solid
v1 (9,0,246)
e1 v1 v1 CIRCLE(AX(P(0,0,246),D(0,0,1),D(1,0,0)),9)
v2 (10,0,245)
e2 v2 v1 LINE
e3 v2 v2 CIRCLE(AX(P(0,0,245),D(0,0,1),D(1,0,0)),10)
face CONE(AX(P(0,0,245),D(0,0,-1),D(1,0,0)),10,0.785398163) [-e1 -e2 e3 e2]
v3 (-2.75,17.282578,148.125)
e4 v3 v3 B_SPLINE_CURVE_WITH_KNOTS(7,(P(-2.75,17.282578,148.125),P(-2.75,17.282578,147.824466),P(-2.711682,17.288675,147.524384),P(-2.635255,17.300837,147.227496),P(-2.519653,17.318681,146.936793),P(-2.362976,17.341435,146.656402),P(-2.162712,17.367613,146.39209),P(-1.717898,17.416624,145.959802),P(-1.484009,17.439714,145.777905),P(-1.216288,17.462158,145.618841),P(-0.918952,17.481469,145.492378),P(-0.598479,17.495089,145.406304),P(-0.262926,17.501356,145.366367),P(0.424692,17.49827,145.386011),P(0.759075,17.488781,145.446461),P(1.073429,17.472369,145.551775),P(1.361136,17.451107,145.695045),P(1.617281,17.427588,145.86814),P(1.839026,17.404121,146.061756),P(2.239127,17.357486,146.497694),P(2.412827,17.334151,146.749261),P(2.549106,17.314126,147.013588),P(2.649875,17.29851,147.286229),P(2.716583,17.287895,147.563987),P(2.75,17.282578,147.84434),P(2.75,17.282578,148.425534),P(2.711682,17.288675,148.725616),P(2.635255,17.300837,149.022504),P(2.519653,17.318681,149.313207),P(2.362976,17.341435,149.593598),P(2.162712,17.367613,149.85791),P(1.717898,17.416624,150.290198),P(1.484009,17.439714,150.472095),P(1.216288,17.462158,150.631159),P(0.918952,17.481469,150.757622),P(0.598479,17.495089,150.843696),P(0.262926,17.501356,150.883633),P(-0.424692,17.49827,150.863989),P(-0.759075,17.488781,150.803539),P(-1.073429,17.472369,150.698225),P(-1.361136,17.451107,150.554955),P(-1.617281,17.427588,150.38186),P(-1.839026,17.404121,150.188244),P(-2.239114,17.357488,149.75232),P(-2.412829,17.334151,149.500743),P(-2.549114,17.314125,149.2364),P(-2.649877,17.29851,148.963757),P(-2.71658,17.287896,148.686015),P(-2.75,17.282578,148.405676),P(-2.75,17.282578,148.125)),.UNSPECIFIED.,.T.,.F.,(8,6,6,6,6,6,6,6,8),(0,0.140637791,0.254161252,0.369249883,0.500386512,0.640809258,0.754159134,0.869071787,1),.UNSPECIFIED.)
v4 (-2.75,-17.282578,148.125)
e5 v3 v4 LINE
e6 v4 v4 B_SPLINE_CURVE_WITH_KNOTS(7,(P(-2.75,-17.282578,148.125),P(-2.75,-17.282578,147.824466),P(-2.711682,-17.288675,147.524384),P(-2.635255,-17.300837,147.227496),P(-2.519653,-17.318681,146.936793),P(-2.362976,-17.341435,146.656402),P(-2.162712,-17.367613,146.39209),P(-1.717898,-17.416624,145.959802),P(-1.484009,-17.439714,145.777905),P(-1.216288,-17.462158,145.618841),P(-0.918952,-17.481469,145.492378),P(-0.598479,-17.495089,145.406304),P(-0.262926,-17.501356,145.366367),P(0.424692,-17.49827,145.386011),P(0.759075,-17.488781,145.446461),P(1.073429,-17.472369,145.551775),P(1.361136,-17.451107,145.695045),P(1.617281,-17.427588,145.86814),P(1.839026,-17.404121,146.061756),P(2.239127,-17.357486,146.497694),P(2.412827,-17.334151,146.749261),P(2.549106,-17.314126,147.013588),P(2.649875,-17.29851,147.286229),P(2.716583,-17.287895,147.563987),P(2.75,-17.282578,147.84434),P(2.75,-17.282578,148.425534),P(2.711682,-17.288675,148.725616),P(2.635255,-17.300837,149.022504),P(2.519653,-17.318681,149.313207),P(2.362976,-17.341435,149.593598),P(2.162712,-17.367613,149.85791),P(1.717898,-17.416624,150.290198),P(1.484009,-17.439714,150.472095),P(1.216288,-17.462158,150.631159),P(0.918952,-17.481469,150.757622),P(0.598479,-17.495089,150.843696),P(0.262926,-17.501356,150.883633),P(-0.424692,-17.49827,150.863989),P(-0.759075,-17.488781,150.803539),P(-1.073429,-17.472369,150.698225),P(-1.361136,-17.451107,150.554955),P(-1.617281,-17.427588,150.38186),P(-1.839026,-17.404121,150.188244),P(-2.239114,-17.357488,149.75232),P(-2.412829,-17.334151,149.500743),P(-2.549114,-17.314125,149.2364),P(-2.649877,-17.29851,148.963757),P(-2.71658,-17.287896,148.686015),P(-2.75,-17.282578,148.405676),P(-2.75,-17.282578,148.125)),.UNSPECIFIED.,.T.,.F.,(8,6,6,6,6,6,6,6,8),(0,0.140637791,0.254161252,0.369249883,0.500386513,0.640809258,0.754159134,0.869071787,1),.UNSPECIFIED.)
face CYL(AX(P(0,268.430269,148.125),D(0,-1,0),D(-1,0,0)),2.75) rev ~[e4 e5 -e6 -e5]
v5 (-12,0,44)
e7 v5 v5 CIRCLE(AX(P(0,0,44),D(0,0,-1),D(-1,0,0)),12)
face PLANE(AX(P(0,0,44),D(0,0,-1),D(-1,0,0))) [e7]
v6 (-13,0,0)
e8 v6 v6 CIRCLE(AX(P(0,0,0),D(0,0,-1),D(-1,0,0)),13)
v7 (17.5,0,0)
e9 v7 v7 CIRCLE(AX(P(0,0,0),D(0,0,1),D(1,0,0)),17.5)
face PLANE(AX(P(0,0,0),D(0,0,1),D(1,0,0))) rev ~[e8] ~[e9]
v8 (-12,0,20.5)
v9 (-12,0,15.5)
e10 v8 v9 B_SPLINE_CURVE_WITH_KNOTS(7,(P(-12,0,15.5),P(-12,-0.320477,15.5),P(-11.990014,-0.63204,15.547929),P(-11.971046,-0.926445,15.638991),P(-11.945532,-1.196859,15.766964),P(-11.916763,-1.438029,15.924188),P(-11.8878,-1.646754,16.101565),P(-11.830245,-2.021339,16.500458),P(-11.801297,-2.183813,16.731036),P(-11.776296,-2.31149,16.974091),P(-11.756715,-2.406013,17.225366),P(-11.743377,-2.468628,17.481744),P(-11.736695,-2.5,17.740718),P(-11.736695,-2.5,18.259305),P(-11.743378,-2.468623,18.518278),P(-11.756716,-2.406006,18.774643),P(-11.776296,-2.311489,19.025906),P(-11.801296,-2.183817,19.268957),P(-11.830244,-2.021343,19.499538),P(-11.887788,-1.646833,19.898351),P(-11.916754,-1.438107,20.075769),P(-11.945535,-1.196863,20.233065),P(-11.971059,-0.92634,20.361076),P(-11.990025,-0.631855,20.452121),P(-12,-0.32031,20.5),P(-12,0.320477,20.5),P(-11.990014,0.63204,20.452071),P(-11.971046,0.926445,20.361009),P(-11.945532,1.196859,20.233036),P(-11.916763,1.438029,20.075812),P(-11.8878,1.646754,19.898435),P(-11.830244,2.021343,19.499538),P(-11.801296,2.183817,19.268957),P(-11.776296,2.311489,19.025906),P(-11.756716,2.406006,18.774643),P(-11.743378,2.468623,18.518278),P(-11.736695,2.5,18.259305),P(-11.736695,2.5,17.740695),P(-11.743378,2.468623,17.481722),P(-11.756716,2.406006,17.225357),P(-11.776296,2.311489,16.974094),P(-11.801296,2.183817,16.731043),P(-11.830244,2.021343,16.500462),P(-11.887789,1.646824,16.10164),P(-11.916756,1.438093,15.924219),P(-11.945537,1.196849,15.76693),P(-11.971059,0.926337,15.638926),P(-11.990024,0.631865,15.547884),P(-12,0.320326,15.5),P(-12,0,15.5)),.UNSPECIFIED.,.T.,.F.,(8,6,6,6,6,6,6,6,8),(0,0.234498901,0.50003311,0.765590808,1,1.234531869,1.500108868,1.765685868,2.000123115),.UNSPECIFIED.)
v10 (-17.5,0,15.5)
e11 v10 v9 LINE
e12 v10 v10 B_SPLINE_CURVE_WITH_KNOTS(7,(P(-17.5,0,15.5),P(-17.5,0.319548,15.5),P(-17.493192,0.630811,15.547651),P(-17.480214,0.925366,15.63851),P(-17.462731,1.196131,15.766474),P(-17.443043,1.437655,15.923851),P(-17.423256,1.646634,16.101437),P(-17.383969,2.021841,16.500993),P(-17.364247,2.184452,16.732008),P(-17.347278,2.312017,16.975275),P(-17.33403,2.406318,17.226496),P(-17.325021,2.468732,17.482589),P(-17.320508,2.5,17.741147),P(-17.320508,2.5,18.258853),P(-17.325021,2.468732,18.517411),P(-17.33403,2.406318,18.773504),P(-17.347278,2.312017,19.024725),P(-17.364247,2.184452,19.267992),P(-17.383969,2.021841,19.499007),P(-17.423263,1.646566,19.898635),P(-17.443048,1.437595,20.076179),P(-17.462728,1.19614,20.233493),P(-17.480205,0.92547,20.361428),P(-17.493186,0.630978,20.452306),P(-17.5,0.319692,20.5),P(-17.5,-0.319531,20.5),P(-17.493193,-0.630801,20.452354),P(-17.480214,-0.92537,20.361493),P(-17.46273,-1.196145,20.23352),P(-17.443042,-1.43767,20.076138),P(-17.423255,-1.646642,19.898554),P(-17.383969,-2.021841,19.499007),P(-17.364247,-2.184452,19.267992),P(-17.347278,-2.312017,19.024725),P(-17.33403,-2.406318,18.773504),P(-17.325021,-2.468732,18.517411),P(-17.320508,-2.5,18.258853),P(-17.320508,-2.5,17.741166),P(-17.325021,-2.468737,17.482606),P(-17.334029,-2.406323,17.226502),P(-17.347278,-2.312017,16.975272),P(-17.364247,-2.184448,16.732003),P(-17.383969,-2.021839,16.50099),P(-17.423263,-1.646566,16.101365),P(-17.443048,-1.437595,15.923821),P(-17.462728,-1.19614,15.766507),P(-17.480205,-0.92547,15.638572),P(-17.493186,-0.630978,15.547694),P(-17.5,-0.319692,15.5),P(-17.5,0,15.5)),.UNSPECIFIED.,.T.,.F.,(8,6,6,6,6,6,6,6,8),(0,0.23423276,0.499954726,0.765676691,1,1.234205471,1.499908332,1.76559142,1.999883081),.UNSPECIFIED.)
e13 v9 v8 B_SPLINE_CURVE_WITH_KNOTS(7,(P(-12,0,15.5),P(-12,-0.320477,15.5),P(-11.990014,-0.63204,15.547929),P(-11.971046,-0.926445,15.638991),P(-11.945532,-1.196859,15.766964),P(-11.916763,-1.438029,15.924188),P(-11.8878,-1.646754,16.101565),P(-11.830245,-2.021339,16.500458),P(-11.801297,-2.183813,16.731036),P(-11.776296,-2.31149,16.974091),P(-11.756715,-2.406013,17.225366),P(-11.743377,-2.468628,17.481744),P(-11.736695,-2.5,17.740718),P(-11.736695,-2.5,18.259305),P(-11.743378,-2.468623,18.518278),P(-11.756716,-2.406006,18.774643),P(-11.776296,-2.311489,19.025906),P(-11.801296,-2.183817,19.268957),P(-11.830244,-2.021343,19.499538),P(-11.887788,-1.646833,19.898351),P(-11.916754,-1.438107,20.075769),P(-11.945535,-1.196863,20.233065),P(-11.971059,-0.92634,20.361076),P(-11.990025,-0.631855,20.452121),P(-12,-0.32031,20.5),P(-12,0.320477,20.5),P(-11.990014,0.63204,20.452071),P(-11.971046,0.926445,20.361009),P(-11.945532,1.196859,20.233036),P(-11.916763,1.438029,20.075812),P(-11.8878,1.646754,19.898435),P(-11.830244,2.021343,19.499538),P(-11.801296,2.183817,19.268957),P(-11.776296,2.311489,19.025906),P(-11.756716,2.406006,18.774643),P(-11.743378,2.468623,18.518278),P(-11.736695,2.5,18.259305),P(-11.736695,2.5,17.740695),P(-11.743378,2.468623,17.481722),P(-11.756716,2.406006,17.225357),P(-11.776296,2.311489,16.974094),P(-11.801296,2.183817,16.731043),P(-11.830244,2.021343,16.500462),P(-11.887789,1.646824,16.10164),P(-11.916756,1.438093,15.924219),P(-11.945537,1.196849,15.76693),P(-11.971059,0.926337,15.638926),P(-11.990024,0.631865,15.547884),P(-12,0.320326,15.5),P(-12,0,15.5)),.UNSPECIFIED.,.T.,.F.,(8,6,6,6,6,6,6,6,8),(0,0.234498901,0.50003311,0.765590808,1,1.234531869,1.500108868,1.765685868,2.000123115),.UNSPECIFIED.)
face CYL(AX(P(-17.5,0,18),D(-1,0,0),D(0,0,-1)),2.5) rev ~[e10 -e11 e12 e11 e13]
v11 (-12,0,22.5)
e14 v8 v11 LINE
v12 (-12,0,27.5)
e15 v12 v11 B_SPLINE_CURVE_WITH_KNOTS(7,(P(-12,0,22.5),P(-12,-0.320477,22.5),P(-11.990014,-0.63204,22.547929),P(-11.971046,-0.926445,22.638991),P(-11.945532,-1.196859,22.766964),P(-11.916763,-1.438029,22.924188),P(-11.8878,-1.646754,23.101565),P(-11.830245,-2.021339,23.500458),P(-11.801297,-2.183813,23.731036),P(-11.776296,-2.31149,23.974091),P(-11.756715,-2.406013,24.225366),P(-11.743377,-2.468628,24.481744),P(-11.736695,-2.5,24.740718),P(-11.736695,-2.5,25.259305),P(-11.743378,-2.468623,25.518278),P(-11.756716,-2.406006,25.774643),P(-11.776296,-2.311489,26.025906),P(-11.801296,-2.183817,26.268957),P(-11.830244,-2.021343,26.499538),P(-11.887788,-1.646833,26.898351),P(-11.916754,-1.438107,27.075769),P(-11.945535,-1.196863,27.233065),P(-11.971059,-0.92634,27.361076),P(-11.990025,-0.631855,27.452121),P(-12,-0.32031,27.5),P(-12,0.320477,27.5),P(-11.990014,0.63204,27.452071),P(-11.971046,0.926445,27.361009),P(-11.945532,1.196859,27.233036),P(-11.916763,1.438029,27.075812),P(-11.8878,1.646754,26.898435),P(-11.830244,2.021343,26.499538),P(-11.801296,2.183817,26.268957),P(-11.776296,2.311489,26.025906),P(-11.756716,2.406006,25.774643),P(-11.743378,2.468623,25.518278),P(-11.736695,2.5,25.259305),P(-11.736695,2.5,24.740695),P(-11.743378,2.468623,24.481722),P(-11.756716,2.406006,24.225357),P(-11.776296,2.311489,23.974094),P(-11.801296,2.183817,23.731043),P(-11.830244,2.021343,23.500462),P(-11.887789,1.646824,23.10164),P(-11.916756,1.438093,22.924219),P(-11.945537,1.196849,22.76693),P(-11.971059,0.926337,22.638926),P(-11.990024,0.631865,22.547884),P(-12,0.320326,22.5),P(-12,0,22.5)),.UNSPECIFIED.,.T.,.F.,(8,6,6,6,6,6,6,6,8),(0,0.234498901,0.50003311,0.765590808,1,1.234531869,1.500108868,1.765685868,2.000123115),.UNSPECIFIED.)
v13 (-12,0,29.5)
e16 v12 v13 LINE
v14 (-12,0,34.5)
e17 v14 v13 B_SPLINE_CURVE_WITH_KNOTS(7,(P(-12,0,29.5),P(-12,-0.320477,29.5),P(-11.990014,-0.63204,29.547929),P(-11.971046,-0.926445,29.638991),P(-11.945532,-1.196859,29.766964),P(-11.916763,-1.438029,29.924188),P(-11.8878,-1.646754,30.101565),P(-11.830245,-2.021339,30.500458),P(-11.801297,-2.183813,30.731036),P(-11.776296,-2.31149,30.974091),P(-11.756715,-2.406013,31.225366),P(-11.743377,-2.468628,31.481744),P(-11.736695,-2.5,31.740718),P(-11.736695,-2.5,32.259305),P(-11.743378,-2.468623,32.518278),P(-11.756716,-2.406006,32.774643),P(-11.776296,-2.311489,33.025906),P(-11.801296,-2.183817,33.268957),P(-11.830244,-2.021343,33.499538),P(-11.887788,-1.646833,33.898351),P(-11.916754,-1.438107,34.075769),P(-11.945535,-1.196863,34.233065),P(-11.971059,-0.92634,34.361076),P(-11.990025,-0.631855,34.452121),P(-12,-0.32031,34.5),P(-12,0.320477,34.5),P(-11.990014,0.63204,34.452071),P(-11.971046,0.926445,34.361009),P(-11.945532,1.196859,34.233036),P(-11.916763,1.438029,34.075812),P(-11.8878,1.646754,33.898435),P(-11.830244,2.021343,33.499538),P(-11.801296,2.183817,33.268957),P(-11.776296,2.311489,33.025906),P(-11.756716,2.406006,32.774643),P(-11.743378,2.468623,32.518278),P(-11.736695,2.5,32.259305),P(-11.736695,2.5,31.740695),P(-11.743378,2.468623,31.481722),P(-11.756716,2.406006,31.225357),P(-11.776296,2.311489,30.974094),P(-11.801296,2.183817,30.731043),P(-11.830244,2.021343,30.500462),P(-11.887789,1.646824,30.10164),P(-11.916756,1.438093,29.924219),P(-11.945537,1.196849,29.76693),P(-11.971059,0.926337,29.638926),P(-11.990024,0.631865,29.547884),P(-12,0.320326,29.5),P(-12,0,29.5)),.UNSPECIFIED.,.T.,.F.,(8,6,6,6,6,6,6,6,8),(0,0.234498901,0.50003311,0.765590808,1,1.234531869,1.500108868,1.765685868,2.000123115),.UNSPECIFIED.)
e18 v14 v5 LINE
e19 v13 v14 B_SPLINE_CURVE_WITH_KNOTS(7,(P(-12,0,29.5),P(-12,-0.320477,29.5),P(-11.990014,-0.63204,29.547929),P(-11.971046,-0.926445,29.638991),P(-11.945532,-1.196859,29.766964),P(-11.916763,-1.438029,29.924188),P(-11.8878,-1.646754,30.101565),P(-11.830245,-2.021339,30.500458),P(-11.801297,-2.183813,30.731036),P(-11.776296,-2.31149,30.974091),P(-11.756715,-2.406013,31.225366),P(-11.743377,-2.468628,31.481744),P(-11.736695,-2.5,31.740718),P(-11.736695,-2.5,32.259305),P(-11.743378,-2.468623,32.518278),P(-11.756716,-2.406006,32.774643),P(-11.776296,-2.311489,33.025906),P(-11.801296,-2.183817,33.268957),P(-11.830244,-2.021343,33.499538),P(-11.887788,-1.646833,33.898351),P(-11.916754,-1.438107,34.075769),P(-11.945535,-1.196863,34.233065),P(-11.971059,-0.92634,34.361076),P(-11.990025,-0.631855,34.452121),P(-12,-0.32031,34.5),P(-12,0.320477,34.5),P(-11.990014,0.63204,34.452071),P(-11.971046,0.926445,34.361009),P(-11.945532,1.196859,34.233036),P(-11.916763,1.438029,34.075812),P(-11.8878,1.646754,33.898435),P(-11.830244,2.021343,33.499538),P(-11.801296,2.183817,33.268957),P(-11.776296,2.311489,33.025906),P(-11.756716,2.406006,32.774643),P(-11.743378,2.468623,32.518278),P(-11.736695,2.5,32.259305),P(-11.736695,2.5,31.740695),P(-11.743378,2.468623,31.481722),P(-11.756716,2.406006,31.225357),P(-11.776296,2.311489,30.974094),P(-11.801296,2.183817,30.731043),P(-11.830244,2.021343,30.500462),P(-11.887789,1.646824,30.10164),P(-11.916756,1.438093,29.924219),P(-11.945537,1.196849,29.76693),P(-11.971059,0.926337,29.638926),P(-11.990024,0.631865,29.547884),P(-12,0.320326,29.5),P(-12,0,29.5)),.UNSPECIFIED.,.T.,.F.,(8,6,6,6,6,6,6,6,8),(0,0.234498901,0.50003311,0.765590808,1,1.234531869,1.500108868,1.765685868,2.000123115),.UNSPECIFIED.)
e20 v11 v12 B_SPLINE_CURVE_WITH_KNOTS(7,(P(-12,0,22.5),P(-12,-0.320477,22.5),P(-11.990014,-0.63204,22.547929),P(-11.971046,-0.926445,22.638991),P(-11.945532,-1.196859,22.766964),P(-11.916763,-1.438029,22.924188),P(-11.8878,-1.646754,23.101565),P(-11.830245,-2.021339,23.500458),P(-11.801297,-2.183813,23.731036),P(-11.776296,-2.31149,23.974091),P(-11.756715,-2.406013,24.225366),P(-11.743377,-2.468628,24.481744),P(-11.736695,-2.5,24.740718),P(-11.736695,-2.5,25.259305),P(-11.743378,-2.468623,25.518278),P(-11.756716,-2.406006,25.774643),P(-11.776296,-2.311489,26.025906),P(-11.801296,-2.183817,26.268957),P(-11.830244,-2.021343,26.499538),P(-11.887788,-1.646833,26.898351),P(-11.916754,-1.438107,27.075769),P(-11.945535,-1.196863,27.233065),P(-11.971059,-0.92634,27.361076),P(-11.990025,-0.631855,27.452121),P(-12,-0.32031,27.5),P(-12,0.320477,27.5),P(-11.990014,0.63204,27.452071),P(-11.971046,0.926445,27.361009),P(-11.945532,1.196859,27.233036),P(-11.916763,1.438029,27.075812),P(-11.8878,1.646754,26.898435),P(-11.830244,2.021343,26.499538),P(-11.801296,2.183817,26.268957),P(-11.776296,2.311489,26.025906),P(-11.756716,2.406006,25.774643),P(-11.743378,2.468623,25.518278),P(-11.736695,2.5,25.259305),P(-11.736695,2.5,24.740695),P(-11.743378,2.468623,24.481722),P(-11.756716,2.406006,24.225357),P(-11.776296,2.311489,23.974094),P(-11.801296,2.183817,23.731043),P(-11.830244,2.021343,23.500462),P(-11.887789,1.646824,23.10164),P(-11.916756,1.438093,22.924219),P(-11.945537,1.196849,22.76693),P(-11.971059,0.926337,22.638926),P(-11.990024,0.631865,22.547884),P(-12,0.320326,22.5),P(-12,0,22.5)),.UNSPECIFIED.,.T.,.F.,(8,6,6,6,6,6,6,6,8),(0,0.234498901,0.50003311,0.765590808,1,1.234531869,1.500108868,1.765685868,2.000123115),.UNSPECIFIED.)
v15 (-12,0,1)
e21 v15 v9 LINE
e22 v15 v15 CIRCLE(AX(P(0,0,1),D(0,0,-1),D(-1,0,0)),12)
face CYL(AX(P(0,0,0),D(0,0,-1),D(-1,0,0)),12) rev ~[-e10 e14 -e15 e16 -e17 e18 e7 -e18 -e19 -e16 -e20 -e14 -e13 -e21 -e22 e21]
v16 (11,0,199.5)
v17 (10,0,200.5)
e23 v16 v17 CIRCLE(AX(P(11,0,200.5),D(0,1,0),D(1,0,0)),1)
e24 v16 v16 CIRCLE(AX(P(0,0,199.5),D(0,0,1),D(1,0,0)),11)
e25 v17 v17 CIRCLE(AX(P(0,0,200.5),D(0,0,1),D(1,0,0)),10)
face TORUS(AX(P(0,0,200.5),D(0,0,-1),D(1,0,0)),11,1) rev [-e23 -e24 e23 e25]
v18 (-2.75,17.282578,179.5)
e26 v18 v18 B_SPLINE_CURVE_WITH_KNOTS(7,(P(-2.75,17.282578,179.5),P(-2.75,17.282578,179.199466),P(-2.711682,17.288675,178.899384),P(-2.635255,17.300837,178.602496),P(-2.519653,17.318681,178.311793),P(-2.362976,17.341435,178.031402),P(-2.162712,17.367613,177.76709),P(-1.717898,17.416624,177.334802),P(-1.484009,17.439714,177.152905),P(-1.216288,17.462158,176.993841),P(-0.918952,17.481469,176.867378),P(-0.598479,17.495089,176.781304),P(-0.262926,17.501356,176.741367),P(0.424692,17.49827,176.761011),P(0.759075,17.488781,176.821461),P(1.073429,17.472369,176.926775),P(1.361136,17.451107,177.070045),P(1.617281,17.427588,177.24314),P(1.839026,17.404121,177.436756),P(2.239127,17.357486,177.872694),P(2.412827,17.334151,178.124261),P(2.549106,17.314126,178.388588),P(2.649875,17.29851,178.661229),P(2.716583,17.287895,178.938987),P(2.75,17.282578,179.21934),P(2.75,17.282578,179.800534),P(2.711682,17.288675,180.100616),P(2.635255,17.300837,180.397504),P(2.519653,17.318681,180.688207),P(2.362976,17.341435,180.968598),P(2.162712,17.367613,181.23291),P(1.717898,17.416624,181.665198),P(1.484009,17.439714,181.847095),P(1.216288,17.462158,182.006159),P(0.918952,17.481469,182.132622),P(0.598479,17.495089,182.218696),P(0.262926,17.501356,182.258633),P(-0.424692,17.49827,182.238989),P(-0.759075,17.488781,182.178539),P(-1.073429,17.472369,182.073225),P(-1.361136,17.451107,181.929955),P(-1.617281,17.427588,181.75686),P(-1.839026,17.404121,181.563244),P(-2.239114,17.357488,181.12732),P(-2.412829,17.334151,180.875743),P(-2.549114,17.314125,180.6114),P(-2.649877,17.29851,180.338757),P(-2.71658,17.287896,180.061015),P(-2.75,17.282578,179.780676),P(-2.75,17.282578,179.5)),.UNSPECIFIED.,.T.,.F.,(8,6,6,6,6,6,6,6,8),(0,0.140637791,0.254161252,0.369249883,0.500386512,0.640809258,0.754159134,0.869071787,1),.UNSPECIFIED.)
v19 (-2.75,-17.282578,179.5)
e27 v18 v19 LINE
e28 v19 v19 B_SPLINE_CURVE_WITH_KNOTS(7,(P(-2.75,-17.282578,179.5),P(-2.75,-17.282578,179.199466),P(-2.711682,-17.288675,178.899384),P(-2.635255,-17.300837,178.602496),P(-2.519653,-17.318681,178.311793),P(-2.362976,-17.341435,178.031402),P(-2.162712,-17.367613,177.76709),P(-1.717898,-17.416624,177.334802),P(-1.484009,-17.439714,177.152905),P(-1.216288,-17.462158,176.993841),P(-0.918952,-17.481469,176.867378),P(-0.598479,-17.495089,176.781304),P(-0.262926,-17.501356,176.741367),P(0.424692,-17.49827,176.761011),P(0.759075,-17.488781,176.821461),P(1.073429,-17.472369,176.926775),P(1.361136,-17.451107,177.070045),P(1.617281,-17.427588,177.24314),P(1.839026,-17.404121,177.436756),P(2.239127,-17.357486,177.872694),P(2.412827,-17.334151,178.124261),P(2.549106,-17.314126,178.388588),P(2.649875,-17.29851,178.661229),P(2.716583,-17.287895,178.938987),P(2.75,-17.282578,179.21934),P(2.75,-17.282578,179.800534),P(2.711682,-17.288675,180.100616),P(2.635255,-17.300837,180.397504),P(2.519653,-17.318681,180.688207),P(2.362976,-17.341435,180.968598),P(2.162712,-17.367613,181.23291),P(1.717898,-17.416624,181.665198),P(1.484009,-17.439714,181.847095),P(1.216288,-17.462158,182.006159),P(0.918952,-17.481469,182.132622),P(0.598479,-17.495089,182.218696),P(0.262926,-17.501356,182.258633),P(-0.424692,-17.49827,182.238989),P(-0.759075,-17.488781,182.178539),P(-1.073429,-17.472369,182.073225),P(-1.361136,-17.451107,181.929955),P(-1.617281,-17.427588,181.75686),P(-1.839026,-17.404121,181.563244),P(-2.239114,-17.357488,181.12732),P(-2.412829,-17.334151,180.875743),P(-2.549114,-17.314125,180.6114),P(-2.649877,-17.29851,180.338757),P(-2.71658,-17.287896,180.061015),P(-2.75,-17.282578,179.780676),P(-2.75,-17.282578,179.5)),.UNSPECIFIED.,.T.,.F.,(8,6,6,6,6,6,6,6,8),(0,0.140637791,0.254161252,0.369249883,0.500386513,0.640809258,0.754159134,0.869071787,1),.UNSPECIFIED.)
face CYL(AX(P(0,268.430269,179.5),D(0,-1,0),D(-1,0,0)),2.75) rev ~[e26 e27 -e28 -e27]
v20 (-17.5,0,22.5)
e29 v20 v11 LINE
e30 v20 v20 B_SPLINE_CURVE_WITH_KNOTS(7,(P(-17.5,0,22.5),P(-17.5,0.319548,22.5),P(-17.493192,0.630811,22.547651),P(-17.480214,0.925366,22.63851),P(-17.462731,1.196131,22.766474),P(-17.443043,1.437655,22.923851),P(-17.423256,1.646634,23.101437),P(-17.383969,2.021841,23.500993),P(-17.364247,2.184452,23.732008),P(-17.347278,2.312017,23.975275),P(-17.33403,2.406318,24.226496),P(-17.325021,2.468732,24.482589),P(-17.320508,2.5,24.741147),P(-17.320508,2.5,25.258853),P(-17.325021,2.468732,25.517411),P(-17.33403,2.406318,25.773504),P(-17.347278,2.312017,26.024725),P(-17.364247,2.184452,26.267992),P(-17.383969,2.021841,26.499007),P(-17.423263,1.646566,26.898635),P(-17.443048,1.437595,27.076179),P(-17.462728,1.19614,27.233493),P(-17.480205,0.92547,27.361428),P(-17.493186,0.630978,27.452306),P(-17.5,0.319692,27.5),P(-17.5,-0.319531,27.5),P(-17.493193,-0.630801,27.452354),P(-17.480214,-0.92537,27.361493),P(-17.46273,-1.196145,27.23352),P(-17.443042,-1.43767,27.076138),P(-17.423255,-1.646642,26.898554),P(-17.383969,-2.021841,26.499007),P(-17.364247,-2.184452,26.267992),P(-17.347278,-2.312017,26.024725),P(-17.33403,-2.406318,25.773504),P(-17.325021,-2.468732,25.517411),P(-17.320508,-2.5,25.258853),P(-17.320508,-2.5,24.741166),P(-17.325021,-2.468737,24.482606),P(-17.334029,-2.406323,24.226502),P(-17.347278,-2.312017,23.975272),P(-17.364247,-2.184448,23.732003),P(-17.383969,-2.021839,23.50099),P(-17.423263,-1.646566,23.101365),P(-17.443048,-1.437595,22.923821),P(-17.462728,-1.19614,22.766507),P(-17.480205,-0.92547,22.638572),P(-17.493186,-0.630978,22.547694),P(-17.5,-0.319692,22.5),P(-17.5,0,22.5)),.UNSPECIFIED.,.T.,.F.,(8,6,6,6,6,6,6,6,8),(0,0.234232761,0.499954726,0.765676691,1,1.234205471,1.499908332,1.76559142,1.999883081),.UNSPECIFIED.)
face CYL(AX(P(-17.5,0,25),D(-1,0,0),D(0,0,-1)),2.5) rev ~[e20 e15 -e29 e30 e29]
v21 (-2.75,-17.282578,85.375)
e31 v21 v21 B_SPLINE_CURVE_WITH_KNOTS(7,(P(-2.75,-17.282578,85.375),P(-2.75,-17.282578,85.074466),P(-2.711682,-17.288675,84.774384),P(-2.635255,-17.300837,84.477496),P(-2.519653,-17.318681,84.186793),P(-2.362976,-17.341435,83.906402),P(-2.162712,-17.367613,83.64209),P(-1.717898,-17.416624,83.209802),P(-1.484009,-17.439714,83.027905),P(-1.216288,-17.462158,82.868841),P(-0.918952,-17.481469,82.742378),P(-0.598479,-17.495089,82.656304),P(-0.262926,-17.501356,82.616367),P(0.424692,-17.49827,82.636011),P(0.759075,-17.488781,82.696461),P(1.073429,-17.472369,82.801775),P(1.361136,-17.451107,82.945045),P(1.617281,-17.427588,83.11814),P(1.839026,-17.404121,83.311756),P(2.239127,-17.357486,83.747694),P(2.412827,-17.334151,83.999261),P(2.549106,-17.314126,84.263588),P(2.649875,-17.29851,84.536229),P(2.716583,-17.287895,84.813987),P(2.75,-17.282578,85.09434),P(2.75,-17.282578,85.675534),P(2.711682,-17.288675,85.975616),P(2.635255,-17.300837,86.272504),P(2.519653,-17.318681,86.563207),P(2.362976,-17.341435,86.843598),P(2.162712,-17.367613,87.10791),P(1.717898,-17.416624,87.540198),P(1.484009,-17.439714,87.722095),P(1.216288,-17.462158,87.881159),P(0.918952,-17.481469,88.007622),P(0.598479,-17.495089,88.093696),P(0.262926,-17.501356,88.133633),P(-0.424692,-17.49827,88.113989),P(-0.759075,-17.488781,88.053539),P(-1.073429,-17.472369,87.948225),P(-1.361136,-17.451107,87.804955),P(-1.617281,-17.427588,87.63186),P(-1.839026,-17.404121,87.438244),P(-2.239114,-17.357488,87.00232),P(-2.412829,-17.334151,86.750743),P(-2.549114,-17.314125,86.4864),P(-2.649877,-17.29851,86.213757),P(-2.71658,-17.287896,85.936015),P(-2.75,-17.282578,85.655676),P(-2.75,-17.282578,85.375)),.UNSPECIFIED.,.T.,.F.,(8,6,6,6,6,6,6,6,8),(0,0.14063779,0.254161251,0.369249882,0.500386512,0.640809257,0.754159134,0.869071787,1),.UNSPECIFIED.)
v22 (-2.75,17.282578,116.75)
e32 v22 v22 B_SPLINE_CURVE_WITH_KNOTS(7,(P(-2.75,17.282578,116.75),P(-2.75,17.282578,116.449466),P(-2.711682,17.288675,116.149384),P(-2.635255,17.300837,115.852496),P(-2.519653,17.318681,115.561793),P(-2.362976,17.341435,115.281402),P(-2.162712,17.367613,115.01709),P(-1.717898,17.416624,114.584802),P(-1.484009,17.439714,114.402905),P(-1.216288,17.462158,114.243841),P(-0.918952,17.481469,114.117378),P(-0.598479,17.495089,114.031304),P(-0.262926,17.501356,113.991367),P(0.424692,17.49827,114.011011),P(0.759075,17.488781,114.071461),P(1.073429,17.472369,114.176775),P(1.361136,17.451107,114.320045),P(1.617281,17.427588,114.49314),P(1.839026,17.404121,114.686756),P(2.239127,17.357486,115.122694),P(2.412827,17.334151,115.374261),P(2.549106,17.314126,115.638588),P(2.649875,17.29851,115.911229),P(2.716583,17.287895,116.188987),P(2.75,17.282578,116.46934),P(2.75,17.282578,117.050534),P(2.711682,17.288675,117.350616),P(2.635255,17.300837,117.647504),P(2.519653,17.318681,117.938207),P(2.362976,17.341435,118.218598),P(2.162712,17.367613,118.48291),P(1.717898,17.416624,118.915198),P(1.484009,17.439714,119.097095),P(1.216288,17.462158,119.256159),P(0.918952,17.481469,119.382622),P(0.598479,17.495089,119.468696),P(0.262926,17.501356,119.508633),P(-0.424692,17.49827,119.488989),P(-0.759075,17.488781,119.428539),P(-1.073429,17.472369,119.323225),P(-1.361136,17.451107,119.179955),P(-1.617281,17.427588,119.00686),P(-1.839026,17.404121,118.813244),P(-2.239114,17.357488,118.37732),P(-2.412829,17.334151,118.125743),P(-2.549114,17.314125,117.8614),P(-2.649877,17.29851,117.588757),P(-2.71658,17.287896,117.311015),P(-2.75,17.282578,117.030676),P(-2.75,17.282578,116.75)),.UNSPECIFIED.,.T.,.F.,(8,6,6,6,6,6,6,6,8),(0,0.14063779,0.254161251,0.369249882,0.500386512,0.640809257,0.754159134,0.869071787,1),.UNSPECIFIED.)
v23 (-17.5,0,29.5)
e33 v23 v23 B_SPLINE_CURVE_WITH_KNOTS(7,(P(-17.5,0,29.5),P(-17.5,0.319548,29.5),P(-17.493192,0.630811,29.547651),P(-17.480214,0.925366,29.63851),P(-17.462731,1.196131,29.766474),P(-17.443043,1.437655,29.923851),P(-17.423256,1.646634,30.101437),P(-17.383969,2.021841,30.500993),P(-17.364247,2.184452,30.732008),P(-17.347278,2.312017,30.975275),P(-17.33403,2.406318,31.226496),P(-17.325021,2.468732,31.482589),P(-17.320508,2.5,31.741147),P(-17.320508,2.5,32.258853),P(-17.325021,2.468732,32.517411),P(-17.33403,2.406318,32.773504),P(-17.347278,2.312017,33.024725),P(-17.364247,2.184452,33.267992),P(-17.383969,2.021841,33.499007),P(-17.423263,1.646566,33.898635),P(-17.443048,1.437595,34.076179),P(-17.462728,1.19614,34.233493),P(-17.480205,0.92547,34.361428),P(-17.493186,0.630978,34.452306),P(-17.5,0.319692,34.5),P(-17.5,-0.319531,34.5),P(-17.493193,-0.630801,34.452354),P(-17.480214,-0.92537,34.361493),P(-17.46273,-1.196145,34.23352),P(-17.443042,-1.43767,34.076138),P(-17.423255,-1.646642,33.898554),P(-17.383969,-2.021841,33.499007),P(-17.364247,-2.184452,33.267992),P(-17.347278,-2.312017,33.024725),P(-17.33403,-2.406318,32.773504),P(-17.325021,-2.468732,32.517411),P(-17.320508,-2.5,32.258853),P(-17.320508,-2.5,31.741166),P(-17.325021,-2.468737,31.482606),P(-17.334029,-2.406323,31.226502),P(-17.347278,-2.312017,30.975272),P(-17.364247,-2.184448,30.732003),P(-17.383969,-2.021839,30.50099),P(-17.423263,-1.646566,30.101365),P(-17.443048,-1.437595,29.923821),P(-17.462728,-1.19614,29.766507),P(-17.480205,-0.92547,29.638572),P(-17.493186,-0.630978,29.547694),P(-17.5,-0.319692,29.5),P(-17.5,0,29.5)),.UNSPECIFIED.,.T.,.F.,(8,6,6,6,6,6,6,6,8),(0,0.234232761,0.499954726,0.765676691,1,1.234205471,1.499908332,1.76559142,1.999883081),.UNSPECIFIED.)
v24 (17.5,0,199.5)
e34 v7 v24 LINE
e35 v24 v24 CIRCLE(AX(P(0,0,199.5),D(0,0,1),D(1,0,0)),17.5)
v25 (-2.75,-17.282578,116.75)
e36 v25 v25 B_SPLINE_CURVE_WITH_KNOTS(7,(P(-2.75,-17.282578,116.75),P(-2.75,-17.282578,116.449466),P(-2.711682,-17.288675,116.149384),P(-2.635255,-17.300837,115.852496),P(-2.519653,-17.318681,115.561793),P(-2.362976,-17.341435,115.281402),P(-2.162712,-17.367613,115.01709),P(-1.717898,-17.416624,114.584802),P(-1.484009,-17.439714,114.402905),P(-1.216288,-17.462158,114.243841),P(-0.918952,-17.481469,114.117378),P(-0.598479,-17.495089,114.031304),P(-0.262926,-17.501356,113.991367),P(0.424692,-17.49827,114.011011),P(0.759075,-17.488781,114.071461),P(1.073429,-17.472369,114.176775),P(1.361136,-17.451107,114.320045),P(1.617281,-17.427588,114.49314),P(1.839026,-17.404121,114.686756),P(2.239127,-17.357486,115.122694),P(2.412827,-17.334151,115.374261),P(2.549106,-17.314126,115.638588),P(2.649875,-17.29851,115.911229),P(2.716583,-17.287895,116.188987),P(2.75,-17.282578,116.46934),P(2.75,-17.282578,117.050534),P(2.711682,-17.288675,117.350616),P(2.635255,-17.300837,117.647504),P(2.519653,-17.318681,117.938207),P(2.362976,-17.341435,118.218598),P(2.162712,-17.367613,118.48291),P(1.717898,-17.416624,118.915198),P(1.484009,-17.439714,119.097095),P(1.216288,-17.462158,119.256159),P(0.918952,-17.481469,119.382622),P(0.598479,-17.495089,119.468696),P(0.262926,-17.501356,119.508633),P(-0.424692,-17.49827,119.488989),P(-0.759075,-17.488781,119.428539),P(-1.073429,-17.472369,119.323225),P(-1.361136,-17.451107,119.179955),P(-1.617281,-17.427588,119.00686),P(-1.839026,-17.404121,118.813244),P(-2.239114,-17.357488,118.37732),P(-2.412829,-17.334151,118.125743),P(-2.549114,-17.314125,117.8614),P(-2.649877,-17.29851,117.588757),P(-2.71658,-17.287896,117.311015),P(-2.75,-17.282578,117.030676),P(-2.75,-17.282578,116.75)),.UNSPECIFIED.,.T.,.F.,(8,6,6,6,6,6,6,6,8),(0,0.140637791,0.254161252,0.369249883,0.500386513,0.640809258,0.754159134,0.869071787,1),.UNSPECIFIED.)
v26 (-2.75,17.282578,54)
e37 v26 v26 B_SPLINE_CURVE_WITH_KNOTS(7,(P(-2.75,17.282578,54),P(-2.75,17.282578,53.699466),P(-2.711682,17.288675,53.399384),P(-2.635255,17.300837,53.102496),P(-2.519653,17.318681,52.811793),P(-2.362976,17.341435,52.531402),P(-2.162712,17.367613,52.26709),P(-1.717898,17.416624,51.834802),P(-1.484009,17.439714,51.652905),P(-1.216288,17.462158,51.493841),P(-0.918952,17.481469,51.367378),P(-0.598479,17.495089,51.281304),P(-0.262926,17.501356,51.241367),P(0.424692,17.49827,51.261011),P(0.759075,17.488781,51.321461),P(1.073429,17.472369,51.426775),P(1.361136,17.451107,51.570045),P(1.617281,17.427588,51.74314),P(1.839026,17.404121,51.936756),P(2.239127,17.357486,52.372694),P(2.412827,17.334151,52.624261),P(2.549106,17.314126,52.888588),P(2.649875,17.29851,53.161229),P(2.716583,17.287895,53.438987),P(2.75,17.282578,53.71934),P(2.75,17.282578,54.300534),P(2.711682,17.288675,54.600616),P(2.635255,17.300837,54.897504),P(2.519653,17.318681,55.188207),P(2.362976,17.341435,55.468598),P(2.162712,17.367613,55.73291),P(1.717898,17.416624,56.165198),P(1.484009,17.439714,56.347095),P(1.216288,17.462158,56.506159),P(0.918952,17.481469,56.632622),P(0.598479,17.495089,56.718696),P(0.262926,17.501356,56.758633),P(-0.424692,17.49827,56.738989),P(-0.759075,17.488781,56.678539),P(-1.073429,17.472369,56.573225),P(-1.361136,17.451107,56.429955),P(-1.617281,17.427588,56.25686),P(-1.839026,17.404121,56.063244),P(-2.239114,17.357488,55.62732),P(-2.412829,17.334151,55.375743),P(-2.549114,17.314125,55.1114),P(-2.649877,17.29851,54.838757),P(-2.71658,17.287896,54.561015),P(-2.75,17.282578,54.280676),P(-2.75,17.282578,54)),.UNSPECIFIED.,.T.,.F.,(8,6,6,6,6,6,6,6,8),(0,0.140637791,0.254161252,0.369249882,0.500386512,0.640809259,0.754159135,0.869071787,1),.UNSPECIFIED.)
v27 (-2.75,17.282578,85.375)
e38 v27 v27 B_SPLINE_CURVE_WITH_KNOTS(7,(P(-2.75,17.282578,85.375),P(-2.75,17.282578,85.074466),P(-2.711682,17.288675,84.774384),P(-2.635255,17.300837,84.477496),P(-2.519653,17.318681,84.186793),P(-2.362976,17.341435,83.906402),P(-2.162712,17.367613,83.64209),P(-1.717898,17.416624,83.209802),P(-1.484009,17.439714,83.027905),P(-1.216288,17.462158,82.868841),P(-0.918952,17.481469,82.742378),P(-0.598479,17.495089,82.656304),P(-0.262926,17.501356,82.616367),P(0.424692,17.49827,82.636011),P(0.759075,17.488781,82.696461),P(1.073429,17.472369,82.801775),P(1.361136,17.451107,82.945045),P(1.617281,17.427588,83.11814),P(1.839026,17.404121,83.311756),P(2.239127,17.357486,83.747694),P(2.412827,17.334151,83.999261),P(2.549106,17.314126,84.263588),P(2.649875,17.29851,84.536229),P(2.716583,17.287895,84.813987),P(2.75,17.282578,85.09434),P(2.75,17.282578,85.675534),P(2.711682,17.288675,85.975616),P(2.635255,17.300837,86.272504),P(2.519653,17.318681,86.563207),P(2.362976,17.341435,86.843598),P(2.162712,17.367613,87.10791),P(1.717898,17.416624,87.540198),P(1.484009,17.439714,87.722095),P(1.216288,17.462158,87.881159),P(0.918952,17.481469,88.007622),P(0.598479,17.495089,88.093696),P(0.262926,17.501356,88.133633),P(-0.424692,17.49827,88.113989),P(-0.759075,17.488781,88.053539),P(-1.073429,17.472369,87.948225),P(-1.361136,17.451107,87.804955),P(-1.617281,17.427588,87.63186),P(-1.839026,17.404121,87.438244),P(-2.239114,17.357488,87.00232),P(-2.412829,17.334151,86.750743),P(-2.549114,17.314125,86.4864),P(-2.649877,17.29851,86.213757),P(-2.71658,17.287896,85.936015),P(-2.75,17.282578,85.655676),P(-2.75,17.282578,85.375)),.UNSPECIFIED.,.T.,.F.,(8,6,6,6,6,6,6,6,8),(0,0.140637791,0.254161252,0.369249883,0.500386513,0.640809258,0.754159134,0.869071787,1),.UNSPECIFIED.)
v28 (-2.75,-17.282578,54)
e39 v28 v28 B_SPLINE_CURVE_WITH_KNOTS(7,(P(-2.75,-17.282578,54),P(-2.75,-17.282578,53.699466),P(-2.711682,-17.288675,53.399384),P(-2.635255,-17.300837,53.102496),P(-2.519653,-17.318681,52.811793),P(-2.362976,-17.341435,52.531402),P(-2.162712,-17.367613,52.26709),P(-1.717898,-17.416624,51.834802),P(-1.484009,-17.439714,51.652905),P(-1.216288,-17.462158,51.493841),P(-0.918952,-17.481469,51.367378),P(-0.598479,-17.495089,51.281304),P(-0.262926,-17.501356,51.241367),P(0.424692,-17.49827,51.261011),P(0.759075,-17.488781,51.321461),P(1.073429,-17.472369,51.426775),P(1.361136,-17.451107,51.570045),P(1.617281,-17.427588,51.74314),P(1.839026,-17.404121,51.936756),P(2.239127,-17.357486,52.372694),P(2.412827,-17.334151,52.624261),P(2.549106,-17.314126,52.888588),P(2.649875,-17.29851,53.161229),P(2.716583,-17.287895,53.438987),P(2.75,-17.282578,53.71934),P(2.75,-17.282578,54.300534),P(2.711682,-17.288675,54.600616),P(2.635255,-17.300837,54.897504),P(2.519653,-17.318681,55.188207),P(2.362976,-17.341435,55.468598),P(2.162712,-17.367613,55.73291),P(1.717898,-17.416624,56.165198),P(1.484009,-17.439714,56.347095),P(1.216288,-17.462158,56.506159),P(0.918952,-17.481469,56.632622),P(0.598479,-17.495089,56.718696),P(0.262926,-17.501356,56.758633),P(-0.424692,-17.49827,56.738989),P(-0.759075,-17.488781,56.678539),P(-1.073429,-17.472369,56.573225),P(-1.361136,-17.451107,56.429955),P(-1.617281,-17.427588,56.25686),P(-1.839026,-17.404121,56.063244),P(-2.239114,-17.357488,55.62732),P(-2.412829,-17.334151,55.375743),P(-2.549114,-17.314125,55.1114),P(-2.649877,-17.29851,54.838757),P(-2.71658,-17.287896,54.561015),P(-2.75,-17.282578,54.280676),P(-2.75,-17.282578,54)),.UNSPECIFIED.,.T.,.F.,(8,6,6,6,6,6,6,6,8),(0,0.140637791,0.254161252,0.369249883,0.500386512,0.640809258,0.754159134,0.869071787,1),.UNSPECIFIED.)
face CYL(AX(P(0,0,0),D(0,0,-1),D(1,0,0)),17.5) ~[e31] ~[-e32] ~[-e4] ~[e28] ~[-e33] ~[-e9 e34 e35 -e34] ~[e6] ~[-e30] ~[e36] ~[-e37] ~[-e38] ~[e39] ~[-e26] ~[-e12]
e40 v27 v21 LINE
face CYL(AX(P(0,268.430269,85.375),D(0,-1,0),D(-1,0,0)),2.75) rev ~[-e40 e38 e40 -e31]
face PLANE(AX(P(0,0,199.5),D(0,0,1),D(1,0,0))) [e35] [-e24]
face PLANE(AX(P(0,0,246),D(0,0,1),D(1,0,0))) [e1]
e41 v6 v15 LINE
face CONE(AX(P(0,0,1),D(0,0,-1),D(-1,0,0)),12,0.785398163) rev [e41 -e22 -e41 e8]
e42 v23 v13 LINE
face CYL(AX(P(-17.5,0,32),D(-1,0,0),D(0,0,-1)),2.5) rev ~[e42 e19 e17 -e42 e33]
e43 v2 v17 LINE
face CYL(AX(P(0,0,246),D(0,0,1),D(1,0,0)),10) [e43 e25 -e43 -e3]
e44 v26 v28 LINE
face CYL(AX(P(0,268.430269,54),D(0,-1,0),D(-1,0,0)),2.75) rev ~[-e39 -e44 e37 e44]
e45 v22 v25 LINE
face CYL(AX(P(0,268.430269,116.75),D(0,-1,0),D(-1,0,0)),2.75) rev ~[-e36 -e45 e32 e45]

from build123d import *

# Parameters (mm, degrees)
ESQUISSE1_R                               = 17.5
BOSS_EXTRU_1_DEPTH                        = 246
ESQUISSE2_R                               = 12
ENL_V_MAT_EXTRU_1_DEPTH                   = 44
TROU_TARAUD_M62_REACH                     = 37
TROU_TARAUD_M62_BORE_R                    = 2.5
ESQUISSE11_R                              = 17.5
ESQUISSE11_R_2                            = 10
ENL_V_MAT_EXTRU_3_DEPTH                   = 46.5
CONG_1_R                                  = 1
CHANFREIN1_SIZE                           = 1
TROU_POUR_TARAUDAGE_POUR_TROU_TARAUD_M6_D = 5.5


with BuildPart() as part:
    # Esquisse1 → Boss.-Extru.1 (new body)
    with BuildSketch(Plane.XY):
        Circle(ESQUISSE1_R)
    extrude(amount=BOSS_EXTRU_1_DEPTH)

    # Esquisse2 → Enlèv. mat.-Extru.1 (cut)
    with BuildSketch(Plane(origin=(0, 0, 0), x_dir=(-1, 0, 0), z_dir=(0, 0, -1))):
        Circle(ESQUISSE2_R)
    extrude(amount=-ENL_V_MAT_EXTRU_1_DEPTH, mode=Mode.SUBTRACT)

    # Trou taraudé M62 bore (on position points) → Trou taraudé M62 (cut, up to next)
    with BuildSketch(Plane(origin=(-17.5, 0, 32), x_dir=(0, 0, -1), z_dir=(-1, 0, 0)), mode=Mode.PRIVATE) as trou_taraud_m62_sk1:
        Circle(TROU_TARAUD_M62_BORE_R)
    trou_taraud_m62_tool1 = extrude(trou_taraud_m62_sk1.sketch, amount=-TROU_TARAUD_M62_REACH, mode=Mode.PRIVATE) & part.part
    add(trou_taraud_m62_tool1.solids().sort_by_distance((-17.5, 0, 32))[0], mode=Mode.SUBTRACT)
    # Trou taraudé M62 bore (on position points) → Trou taraudé M62 (cut, up to next)
    with BuildSketch(Plane(origin=(-17.5, 0, 32), x_dir=(0, 0, -1), z_dir=(-1, 0, 0)), mode=Mode.PRIVATE) as trou_taraud_m62_sk2:
        with Locations((7, 0)):
            Circle(TROU_TARAUD_M62_BORE_R)
    trou_taraud_m62_tool2 = extrude(trou_taraud_m62_sk2.sketch, amount=-TROU_TARAUD_M62_REACH, mode=Mode.PRIVATE) & part.part
    add(trou_taraud_m62_tool2.solids().sort_by_distance((-17.5, 0, 25))[0], mode=Mode.SUBTRACT)
    # Trou taraudé M62 bore (on position points) → Trou taraudé M62 (cut, up to next)
    with BuildSketch(Plane(origin=(-17.5, 0, 32), x_dir=(0, 0, -1), z_dir=(-1, 0, 0)), mode=Mode.PRIVATE) as trou_taraud_m62_sk3:
        with Locations((14, 0)):
            Circle(TROU_TARAUD_M62_BORE_R)
    trou_taraud_m62_tool3 = extrude(trou_taraud_m62_sk3.sketch, amount=-TROU_TARAUD_M62_REACH, mode=Mode.PRIVATE) & part.part
    add(trou_taraud_m62_tool3.solids().sort_by_distance((-17.5, 0, 18))[0], mode=Mode.SUBTRACT)

    # Esquisse11 → Enlèv. mat.-Extru.3 (cut)
    with BuildSketch(Plane.XY.offset(246)):
        Circle(ESQUISSE11_R)
        Circle(ESQUISSE11_R_2, mode=Mode.SUBTRACT)
    extrude(amount=-ENL_V_MAT_EXTRU_3_DEPTH, mode=Mode.SUBTRACT)

    # Congé1
    cong_1_edges = [part.edges().sort_by_distance(p)[0] for p in [
        (-10, 0, 199.5),
    ]]
    fillet(cong_1_edges, radius=CONG_1_R)

    # Chanfrein1
    chanfrein1_edges = [part.edges().sort_by_distance(p)[0] for p in [
        (-10, 0, 246),
        (12, 0, 0),
    ]]
    chamfer(chanfrein1_edges, length=CHANFREIN1_SIZE)

    # Trou pour taraudage pour trou taraudé M62 (through all)
    with Locations(Plane(origin=(0, 17.5, 0), x_dir=(1, 0, 0), z_dir=(0, 1, 0))):
        with Locations((0, -54), (0, -116.75), (0, -179.5), (0, -85.375), (0, -148.125)):
            Hole(TROU_POUR_TARAUDAGE_POUR_TROU_TARAUD_M6_D / 2)


solid = part.part
